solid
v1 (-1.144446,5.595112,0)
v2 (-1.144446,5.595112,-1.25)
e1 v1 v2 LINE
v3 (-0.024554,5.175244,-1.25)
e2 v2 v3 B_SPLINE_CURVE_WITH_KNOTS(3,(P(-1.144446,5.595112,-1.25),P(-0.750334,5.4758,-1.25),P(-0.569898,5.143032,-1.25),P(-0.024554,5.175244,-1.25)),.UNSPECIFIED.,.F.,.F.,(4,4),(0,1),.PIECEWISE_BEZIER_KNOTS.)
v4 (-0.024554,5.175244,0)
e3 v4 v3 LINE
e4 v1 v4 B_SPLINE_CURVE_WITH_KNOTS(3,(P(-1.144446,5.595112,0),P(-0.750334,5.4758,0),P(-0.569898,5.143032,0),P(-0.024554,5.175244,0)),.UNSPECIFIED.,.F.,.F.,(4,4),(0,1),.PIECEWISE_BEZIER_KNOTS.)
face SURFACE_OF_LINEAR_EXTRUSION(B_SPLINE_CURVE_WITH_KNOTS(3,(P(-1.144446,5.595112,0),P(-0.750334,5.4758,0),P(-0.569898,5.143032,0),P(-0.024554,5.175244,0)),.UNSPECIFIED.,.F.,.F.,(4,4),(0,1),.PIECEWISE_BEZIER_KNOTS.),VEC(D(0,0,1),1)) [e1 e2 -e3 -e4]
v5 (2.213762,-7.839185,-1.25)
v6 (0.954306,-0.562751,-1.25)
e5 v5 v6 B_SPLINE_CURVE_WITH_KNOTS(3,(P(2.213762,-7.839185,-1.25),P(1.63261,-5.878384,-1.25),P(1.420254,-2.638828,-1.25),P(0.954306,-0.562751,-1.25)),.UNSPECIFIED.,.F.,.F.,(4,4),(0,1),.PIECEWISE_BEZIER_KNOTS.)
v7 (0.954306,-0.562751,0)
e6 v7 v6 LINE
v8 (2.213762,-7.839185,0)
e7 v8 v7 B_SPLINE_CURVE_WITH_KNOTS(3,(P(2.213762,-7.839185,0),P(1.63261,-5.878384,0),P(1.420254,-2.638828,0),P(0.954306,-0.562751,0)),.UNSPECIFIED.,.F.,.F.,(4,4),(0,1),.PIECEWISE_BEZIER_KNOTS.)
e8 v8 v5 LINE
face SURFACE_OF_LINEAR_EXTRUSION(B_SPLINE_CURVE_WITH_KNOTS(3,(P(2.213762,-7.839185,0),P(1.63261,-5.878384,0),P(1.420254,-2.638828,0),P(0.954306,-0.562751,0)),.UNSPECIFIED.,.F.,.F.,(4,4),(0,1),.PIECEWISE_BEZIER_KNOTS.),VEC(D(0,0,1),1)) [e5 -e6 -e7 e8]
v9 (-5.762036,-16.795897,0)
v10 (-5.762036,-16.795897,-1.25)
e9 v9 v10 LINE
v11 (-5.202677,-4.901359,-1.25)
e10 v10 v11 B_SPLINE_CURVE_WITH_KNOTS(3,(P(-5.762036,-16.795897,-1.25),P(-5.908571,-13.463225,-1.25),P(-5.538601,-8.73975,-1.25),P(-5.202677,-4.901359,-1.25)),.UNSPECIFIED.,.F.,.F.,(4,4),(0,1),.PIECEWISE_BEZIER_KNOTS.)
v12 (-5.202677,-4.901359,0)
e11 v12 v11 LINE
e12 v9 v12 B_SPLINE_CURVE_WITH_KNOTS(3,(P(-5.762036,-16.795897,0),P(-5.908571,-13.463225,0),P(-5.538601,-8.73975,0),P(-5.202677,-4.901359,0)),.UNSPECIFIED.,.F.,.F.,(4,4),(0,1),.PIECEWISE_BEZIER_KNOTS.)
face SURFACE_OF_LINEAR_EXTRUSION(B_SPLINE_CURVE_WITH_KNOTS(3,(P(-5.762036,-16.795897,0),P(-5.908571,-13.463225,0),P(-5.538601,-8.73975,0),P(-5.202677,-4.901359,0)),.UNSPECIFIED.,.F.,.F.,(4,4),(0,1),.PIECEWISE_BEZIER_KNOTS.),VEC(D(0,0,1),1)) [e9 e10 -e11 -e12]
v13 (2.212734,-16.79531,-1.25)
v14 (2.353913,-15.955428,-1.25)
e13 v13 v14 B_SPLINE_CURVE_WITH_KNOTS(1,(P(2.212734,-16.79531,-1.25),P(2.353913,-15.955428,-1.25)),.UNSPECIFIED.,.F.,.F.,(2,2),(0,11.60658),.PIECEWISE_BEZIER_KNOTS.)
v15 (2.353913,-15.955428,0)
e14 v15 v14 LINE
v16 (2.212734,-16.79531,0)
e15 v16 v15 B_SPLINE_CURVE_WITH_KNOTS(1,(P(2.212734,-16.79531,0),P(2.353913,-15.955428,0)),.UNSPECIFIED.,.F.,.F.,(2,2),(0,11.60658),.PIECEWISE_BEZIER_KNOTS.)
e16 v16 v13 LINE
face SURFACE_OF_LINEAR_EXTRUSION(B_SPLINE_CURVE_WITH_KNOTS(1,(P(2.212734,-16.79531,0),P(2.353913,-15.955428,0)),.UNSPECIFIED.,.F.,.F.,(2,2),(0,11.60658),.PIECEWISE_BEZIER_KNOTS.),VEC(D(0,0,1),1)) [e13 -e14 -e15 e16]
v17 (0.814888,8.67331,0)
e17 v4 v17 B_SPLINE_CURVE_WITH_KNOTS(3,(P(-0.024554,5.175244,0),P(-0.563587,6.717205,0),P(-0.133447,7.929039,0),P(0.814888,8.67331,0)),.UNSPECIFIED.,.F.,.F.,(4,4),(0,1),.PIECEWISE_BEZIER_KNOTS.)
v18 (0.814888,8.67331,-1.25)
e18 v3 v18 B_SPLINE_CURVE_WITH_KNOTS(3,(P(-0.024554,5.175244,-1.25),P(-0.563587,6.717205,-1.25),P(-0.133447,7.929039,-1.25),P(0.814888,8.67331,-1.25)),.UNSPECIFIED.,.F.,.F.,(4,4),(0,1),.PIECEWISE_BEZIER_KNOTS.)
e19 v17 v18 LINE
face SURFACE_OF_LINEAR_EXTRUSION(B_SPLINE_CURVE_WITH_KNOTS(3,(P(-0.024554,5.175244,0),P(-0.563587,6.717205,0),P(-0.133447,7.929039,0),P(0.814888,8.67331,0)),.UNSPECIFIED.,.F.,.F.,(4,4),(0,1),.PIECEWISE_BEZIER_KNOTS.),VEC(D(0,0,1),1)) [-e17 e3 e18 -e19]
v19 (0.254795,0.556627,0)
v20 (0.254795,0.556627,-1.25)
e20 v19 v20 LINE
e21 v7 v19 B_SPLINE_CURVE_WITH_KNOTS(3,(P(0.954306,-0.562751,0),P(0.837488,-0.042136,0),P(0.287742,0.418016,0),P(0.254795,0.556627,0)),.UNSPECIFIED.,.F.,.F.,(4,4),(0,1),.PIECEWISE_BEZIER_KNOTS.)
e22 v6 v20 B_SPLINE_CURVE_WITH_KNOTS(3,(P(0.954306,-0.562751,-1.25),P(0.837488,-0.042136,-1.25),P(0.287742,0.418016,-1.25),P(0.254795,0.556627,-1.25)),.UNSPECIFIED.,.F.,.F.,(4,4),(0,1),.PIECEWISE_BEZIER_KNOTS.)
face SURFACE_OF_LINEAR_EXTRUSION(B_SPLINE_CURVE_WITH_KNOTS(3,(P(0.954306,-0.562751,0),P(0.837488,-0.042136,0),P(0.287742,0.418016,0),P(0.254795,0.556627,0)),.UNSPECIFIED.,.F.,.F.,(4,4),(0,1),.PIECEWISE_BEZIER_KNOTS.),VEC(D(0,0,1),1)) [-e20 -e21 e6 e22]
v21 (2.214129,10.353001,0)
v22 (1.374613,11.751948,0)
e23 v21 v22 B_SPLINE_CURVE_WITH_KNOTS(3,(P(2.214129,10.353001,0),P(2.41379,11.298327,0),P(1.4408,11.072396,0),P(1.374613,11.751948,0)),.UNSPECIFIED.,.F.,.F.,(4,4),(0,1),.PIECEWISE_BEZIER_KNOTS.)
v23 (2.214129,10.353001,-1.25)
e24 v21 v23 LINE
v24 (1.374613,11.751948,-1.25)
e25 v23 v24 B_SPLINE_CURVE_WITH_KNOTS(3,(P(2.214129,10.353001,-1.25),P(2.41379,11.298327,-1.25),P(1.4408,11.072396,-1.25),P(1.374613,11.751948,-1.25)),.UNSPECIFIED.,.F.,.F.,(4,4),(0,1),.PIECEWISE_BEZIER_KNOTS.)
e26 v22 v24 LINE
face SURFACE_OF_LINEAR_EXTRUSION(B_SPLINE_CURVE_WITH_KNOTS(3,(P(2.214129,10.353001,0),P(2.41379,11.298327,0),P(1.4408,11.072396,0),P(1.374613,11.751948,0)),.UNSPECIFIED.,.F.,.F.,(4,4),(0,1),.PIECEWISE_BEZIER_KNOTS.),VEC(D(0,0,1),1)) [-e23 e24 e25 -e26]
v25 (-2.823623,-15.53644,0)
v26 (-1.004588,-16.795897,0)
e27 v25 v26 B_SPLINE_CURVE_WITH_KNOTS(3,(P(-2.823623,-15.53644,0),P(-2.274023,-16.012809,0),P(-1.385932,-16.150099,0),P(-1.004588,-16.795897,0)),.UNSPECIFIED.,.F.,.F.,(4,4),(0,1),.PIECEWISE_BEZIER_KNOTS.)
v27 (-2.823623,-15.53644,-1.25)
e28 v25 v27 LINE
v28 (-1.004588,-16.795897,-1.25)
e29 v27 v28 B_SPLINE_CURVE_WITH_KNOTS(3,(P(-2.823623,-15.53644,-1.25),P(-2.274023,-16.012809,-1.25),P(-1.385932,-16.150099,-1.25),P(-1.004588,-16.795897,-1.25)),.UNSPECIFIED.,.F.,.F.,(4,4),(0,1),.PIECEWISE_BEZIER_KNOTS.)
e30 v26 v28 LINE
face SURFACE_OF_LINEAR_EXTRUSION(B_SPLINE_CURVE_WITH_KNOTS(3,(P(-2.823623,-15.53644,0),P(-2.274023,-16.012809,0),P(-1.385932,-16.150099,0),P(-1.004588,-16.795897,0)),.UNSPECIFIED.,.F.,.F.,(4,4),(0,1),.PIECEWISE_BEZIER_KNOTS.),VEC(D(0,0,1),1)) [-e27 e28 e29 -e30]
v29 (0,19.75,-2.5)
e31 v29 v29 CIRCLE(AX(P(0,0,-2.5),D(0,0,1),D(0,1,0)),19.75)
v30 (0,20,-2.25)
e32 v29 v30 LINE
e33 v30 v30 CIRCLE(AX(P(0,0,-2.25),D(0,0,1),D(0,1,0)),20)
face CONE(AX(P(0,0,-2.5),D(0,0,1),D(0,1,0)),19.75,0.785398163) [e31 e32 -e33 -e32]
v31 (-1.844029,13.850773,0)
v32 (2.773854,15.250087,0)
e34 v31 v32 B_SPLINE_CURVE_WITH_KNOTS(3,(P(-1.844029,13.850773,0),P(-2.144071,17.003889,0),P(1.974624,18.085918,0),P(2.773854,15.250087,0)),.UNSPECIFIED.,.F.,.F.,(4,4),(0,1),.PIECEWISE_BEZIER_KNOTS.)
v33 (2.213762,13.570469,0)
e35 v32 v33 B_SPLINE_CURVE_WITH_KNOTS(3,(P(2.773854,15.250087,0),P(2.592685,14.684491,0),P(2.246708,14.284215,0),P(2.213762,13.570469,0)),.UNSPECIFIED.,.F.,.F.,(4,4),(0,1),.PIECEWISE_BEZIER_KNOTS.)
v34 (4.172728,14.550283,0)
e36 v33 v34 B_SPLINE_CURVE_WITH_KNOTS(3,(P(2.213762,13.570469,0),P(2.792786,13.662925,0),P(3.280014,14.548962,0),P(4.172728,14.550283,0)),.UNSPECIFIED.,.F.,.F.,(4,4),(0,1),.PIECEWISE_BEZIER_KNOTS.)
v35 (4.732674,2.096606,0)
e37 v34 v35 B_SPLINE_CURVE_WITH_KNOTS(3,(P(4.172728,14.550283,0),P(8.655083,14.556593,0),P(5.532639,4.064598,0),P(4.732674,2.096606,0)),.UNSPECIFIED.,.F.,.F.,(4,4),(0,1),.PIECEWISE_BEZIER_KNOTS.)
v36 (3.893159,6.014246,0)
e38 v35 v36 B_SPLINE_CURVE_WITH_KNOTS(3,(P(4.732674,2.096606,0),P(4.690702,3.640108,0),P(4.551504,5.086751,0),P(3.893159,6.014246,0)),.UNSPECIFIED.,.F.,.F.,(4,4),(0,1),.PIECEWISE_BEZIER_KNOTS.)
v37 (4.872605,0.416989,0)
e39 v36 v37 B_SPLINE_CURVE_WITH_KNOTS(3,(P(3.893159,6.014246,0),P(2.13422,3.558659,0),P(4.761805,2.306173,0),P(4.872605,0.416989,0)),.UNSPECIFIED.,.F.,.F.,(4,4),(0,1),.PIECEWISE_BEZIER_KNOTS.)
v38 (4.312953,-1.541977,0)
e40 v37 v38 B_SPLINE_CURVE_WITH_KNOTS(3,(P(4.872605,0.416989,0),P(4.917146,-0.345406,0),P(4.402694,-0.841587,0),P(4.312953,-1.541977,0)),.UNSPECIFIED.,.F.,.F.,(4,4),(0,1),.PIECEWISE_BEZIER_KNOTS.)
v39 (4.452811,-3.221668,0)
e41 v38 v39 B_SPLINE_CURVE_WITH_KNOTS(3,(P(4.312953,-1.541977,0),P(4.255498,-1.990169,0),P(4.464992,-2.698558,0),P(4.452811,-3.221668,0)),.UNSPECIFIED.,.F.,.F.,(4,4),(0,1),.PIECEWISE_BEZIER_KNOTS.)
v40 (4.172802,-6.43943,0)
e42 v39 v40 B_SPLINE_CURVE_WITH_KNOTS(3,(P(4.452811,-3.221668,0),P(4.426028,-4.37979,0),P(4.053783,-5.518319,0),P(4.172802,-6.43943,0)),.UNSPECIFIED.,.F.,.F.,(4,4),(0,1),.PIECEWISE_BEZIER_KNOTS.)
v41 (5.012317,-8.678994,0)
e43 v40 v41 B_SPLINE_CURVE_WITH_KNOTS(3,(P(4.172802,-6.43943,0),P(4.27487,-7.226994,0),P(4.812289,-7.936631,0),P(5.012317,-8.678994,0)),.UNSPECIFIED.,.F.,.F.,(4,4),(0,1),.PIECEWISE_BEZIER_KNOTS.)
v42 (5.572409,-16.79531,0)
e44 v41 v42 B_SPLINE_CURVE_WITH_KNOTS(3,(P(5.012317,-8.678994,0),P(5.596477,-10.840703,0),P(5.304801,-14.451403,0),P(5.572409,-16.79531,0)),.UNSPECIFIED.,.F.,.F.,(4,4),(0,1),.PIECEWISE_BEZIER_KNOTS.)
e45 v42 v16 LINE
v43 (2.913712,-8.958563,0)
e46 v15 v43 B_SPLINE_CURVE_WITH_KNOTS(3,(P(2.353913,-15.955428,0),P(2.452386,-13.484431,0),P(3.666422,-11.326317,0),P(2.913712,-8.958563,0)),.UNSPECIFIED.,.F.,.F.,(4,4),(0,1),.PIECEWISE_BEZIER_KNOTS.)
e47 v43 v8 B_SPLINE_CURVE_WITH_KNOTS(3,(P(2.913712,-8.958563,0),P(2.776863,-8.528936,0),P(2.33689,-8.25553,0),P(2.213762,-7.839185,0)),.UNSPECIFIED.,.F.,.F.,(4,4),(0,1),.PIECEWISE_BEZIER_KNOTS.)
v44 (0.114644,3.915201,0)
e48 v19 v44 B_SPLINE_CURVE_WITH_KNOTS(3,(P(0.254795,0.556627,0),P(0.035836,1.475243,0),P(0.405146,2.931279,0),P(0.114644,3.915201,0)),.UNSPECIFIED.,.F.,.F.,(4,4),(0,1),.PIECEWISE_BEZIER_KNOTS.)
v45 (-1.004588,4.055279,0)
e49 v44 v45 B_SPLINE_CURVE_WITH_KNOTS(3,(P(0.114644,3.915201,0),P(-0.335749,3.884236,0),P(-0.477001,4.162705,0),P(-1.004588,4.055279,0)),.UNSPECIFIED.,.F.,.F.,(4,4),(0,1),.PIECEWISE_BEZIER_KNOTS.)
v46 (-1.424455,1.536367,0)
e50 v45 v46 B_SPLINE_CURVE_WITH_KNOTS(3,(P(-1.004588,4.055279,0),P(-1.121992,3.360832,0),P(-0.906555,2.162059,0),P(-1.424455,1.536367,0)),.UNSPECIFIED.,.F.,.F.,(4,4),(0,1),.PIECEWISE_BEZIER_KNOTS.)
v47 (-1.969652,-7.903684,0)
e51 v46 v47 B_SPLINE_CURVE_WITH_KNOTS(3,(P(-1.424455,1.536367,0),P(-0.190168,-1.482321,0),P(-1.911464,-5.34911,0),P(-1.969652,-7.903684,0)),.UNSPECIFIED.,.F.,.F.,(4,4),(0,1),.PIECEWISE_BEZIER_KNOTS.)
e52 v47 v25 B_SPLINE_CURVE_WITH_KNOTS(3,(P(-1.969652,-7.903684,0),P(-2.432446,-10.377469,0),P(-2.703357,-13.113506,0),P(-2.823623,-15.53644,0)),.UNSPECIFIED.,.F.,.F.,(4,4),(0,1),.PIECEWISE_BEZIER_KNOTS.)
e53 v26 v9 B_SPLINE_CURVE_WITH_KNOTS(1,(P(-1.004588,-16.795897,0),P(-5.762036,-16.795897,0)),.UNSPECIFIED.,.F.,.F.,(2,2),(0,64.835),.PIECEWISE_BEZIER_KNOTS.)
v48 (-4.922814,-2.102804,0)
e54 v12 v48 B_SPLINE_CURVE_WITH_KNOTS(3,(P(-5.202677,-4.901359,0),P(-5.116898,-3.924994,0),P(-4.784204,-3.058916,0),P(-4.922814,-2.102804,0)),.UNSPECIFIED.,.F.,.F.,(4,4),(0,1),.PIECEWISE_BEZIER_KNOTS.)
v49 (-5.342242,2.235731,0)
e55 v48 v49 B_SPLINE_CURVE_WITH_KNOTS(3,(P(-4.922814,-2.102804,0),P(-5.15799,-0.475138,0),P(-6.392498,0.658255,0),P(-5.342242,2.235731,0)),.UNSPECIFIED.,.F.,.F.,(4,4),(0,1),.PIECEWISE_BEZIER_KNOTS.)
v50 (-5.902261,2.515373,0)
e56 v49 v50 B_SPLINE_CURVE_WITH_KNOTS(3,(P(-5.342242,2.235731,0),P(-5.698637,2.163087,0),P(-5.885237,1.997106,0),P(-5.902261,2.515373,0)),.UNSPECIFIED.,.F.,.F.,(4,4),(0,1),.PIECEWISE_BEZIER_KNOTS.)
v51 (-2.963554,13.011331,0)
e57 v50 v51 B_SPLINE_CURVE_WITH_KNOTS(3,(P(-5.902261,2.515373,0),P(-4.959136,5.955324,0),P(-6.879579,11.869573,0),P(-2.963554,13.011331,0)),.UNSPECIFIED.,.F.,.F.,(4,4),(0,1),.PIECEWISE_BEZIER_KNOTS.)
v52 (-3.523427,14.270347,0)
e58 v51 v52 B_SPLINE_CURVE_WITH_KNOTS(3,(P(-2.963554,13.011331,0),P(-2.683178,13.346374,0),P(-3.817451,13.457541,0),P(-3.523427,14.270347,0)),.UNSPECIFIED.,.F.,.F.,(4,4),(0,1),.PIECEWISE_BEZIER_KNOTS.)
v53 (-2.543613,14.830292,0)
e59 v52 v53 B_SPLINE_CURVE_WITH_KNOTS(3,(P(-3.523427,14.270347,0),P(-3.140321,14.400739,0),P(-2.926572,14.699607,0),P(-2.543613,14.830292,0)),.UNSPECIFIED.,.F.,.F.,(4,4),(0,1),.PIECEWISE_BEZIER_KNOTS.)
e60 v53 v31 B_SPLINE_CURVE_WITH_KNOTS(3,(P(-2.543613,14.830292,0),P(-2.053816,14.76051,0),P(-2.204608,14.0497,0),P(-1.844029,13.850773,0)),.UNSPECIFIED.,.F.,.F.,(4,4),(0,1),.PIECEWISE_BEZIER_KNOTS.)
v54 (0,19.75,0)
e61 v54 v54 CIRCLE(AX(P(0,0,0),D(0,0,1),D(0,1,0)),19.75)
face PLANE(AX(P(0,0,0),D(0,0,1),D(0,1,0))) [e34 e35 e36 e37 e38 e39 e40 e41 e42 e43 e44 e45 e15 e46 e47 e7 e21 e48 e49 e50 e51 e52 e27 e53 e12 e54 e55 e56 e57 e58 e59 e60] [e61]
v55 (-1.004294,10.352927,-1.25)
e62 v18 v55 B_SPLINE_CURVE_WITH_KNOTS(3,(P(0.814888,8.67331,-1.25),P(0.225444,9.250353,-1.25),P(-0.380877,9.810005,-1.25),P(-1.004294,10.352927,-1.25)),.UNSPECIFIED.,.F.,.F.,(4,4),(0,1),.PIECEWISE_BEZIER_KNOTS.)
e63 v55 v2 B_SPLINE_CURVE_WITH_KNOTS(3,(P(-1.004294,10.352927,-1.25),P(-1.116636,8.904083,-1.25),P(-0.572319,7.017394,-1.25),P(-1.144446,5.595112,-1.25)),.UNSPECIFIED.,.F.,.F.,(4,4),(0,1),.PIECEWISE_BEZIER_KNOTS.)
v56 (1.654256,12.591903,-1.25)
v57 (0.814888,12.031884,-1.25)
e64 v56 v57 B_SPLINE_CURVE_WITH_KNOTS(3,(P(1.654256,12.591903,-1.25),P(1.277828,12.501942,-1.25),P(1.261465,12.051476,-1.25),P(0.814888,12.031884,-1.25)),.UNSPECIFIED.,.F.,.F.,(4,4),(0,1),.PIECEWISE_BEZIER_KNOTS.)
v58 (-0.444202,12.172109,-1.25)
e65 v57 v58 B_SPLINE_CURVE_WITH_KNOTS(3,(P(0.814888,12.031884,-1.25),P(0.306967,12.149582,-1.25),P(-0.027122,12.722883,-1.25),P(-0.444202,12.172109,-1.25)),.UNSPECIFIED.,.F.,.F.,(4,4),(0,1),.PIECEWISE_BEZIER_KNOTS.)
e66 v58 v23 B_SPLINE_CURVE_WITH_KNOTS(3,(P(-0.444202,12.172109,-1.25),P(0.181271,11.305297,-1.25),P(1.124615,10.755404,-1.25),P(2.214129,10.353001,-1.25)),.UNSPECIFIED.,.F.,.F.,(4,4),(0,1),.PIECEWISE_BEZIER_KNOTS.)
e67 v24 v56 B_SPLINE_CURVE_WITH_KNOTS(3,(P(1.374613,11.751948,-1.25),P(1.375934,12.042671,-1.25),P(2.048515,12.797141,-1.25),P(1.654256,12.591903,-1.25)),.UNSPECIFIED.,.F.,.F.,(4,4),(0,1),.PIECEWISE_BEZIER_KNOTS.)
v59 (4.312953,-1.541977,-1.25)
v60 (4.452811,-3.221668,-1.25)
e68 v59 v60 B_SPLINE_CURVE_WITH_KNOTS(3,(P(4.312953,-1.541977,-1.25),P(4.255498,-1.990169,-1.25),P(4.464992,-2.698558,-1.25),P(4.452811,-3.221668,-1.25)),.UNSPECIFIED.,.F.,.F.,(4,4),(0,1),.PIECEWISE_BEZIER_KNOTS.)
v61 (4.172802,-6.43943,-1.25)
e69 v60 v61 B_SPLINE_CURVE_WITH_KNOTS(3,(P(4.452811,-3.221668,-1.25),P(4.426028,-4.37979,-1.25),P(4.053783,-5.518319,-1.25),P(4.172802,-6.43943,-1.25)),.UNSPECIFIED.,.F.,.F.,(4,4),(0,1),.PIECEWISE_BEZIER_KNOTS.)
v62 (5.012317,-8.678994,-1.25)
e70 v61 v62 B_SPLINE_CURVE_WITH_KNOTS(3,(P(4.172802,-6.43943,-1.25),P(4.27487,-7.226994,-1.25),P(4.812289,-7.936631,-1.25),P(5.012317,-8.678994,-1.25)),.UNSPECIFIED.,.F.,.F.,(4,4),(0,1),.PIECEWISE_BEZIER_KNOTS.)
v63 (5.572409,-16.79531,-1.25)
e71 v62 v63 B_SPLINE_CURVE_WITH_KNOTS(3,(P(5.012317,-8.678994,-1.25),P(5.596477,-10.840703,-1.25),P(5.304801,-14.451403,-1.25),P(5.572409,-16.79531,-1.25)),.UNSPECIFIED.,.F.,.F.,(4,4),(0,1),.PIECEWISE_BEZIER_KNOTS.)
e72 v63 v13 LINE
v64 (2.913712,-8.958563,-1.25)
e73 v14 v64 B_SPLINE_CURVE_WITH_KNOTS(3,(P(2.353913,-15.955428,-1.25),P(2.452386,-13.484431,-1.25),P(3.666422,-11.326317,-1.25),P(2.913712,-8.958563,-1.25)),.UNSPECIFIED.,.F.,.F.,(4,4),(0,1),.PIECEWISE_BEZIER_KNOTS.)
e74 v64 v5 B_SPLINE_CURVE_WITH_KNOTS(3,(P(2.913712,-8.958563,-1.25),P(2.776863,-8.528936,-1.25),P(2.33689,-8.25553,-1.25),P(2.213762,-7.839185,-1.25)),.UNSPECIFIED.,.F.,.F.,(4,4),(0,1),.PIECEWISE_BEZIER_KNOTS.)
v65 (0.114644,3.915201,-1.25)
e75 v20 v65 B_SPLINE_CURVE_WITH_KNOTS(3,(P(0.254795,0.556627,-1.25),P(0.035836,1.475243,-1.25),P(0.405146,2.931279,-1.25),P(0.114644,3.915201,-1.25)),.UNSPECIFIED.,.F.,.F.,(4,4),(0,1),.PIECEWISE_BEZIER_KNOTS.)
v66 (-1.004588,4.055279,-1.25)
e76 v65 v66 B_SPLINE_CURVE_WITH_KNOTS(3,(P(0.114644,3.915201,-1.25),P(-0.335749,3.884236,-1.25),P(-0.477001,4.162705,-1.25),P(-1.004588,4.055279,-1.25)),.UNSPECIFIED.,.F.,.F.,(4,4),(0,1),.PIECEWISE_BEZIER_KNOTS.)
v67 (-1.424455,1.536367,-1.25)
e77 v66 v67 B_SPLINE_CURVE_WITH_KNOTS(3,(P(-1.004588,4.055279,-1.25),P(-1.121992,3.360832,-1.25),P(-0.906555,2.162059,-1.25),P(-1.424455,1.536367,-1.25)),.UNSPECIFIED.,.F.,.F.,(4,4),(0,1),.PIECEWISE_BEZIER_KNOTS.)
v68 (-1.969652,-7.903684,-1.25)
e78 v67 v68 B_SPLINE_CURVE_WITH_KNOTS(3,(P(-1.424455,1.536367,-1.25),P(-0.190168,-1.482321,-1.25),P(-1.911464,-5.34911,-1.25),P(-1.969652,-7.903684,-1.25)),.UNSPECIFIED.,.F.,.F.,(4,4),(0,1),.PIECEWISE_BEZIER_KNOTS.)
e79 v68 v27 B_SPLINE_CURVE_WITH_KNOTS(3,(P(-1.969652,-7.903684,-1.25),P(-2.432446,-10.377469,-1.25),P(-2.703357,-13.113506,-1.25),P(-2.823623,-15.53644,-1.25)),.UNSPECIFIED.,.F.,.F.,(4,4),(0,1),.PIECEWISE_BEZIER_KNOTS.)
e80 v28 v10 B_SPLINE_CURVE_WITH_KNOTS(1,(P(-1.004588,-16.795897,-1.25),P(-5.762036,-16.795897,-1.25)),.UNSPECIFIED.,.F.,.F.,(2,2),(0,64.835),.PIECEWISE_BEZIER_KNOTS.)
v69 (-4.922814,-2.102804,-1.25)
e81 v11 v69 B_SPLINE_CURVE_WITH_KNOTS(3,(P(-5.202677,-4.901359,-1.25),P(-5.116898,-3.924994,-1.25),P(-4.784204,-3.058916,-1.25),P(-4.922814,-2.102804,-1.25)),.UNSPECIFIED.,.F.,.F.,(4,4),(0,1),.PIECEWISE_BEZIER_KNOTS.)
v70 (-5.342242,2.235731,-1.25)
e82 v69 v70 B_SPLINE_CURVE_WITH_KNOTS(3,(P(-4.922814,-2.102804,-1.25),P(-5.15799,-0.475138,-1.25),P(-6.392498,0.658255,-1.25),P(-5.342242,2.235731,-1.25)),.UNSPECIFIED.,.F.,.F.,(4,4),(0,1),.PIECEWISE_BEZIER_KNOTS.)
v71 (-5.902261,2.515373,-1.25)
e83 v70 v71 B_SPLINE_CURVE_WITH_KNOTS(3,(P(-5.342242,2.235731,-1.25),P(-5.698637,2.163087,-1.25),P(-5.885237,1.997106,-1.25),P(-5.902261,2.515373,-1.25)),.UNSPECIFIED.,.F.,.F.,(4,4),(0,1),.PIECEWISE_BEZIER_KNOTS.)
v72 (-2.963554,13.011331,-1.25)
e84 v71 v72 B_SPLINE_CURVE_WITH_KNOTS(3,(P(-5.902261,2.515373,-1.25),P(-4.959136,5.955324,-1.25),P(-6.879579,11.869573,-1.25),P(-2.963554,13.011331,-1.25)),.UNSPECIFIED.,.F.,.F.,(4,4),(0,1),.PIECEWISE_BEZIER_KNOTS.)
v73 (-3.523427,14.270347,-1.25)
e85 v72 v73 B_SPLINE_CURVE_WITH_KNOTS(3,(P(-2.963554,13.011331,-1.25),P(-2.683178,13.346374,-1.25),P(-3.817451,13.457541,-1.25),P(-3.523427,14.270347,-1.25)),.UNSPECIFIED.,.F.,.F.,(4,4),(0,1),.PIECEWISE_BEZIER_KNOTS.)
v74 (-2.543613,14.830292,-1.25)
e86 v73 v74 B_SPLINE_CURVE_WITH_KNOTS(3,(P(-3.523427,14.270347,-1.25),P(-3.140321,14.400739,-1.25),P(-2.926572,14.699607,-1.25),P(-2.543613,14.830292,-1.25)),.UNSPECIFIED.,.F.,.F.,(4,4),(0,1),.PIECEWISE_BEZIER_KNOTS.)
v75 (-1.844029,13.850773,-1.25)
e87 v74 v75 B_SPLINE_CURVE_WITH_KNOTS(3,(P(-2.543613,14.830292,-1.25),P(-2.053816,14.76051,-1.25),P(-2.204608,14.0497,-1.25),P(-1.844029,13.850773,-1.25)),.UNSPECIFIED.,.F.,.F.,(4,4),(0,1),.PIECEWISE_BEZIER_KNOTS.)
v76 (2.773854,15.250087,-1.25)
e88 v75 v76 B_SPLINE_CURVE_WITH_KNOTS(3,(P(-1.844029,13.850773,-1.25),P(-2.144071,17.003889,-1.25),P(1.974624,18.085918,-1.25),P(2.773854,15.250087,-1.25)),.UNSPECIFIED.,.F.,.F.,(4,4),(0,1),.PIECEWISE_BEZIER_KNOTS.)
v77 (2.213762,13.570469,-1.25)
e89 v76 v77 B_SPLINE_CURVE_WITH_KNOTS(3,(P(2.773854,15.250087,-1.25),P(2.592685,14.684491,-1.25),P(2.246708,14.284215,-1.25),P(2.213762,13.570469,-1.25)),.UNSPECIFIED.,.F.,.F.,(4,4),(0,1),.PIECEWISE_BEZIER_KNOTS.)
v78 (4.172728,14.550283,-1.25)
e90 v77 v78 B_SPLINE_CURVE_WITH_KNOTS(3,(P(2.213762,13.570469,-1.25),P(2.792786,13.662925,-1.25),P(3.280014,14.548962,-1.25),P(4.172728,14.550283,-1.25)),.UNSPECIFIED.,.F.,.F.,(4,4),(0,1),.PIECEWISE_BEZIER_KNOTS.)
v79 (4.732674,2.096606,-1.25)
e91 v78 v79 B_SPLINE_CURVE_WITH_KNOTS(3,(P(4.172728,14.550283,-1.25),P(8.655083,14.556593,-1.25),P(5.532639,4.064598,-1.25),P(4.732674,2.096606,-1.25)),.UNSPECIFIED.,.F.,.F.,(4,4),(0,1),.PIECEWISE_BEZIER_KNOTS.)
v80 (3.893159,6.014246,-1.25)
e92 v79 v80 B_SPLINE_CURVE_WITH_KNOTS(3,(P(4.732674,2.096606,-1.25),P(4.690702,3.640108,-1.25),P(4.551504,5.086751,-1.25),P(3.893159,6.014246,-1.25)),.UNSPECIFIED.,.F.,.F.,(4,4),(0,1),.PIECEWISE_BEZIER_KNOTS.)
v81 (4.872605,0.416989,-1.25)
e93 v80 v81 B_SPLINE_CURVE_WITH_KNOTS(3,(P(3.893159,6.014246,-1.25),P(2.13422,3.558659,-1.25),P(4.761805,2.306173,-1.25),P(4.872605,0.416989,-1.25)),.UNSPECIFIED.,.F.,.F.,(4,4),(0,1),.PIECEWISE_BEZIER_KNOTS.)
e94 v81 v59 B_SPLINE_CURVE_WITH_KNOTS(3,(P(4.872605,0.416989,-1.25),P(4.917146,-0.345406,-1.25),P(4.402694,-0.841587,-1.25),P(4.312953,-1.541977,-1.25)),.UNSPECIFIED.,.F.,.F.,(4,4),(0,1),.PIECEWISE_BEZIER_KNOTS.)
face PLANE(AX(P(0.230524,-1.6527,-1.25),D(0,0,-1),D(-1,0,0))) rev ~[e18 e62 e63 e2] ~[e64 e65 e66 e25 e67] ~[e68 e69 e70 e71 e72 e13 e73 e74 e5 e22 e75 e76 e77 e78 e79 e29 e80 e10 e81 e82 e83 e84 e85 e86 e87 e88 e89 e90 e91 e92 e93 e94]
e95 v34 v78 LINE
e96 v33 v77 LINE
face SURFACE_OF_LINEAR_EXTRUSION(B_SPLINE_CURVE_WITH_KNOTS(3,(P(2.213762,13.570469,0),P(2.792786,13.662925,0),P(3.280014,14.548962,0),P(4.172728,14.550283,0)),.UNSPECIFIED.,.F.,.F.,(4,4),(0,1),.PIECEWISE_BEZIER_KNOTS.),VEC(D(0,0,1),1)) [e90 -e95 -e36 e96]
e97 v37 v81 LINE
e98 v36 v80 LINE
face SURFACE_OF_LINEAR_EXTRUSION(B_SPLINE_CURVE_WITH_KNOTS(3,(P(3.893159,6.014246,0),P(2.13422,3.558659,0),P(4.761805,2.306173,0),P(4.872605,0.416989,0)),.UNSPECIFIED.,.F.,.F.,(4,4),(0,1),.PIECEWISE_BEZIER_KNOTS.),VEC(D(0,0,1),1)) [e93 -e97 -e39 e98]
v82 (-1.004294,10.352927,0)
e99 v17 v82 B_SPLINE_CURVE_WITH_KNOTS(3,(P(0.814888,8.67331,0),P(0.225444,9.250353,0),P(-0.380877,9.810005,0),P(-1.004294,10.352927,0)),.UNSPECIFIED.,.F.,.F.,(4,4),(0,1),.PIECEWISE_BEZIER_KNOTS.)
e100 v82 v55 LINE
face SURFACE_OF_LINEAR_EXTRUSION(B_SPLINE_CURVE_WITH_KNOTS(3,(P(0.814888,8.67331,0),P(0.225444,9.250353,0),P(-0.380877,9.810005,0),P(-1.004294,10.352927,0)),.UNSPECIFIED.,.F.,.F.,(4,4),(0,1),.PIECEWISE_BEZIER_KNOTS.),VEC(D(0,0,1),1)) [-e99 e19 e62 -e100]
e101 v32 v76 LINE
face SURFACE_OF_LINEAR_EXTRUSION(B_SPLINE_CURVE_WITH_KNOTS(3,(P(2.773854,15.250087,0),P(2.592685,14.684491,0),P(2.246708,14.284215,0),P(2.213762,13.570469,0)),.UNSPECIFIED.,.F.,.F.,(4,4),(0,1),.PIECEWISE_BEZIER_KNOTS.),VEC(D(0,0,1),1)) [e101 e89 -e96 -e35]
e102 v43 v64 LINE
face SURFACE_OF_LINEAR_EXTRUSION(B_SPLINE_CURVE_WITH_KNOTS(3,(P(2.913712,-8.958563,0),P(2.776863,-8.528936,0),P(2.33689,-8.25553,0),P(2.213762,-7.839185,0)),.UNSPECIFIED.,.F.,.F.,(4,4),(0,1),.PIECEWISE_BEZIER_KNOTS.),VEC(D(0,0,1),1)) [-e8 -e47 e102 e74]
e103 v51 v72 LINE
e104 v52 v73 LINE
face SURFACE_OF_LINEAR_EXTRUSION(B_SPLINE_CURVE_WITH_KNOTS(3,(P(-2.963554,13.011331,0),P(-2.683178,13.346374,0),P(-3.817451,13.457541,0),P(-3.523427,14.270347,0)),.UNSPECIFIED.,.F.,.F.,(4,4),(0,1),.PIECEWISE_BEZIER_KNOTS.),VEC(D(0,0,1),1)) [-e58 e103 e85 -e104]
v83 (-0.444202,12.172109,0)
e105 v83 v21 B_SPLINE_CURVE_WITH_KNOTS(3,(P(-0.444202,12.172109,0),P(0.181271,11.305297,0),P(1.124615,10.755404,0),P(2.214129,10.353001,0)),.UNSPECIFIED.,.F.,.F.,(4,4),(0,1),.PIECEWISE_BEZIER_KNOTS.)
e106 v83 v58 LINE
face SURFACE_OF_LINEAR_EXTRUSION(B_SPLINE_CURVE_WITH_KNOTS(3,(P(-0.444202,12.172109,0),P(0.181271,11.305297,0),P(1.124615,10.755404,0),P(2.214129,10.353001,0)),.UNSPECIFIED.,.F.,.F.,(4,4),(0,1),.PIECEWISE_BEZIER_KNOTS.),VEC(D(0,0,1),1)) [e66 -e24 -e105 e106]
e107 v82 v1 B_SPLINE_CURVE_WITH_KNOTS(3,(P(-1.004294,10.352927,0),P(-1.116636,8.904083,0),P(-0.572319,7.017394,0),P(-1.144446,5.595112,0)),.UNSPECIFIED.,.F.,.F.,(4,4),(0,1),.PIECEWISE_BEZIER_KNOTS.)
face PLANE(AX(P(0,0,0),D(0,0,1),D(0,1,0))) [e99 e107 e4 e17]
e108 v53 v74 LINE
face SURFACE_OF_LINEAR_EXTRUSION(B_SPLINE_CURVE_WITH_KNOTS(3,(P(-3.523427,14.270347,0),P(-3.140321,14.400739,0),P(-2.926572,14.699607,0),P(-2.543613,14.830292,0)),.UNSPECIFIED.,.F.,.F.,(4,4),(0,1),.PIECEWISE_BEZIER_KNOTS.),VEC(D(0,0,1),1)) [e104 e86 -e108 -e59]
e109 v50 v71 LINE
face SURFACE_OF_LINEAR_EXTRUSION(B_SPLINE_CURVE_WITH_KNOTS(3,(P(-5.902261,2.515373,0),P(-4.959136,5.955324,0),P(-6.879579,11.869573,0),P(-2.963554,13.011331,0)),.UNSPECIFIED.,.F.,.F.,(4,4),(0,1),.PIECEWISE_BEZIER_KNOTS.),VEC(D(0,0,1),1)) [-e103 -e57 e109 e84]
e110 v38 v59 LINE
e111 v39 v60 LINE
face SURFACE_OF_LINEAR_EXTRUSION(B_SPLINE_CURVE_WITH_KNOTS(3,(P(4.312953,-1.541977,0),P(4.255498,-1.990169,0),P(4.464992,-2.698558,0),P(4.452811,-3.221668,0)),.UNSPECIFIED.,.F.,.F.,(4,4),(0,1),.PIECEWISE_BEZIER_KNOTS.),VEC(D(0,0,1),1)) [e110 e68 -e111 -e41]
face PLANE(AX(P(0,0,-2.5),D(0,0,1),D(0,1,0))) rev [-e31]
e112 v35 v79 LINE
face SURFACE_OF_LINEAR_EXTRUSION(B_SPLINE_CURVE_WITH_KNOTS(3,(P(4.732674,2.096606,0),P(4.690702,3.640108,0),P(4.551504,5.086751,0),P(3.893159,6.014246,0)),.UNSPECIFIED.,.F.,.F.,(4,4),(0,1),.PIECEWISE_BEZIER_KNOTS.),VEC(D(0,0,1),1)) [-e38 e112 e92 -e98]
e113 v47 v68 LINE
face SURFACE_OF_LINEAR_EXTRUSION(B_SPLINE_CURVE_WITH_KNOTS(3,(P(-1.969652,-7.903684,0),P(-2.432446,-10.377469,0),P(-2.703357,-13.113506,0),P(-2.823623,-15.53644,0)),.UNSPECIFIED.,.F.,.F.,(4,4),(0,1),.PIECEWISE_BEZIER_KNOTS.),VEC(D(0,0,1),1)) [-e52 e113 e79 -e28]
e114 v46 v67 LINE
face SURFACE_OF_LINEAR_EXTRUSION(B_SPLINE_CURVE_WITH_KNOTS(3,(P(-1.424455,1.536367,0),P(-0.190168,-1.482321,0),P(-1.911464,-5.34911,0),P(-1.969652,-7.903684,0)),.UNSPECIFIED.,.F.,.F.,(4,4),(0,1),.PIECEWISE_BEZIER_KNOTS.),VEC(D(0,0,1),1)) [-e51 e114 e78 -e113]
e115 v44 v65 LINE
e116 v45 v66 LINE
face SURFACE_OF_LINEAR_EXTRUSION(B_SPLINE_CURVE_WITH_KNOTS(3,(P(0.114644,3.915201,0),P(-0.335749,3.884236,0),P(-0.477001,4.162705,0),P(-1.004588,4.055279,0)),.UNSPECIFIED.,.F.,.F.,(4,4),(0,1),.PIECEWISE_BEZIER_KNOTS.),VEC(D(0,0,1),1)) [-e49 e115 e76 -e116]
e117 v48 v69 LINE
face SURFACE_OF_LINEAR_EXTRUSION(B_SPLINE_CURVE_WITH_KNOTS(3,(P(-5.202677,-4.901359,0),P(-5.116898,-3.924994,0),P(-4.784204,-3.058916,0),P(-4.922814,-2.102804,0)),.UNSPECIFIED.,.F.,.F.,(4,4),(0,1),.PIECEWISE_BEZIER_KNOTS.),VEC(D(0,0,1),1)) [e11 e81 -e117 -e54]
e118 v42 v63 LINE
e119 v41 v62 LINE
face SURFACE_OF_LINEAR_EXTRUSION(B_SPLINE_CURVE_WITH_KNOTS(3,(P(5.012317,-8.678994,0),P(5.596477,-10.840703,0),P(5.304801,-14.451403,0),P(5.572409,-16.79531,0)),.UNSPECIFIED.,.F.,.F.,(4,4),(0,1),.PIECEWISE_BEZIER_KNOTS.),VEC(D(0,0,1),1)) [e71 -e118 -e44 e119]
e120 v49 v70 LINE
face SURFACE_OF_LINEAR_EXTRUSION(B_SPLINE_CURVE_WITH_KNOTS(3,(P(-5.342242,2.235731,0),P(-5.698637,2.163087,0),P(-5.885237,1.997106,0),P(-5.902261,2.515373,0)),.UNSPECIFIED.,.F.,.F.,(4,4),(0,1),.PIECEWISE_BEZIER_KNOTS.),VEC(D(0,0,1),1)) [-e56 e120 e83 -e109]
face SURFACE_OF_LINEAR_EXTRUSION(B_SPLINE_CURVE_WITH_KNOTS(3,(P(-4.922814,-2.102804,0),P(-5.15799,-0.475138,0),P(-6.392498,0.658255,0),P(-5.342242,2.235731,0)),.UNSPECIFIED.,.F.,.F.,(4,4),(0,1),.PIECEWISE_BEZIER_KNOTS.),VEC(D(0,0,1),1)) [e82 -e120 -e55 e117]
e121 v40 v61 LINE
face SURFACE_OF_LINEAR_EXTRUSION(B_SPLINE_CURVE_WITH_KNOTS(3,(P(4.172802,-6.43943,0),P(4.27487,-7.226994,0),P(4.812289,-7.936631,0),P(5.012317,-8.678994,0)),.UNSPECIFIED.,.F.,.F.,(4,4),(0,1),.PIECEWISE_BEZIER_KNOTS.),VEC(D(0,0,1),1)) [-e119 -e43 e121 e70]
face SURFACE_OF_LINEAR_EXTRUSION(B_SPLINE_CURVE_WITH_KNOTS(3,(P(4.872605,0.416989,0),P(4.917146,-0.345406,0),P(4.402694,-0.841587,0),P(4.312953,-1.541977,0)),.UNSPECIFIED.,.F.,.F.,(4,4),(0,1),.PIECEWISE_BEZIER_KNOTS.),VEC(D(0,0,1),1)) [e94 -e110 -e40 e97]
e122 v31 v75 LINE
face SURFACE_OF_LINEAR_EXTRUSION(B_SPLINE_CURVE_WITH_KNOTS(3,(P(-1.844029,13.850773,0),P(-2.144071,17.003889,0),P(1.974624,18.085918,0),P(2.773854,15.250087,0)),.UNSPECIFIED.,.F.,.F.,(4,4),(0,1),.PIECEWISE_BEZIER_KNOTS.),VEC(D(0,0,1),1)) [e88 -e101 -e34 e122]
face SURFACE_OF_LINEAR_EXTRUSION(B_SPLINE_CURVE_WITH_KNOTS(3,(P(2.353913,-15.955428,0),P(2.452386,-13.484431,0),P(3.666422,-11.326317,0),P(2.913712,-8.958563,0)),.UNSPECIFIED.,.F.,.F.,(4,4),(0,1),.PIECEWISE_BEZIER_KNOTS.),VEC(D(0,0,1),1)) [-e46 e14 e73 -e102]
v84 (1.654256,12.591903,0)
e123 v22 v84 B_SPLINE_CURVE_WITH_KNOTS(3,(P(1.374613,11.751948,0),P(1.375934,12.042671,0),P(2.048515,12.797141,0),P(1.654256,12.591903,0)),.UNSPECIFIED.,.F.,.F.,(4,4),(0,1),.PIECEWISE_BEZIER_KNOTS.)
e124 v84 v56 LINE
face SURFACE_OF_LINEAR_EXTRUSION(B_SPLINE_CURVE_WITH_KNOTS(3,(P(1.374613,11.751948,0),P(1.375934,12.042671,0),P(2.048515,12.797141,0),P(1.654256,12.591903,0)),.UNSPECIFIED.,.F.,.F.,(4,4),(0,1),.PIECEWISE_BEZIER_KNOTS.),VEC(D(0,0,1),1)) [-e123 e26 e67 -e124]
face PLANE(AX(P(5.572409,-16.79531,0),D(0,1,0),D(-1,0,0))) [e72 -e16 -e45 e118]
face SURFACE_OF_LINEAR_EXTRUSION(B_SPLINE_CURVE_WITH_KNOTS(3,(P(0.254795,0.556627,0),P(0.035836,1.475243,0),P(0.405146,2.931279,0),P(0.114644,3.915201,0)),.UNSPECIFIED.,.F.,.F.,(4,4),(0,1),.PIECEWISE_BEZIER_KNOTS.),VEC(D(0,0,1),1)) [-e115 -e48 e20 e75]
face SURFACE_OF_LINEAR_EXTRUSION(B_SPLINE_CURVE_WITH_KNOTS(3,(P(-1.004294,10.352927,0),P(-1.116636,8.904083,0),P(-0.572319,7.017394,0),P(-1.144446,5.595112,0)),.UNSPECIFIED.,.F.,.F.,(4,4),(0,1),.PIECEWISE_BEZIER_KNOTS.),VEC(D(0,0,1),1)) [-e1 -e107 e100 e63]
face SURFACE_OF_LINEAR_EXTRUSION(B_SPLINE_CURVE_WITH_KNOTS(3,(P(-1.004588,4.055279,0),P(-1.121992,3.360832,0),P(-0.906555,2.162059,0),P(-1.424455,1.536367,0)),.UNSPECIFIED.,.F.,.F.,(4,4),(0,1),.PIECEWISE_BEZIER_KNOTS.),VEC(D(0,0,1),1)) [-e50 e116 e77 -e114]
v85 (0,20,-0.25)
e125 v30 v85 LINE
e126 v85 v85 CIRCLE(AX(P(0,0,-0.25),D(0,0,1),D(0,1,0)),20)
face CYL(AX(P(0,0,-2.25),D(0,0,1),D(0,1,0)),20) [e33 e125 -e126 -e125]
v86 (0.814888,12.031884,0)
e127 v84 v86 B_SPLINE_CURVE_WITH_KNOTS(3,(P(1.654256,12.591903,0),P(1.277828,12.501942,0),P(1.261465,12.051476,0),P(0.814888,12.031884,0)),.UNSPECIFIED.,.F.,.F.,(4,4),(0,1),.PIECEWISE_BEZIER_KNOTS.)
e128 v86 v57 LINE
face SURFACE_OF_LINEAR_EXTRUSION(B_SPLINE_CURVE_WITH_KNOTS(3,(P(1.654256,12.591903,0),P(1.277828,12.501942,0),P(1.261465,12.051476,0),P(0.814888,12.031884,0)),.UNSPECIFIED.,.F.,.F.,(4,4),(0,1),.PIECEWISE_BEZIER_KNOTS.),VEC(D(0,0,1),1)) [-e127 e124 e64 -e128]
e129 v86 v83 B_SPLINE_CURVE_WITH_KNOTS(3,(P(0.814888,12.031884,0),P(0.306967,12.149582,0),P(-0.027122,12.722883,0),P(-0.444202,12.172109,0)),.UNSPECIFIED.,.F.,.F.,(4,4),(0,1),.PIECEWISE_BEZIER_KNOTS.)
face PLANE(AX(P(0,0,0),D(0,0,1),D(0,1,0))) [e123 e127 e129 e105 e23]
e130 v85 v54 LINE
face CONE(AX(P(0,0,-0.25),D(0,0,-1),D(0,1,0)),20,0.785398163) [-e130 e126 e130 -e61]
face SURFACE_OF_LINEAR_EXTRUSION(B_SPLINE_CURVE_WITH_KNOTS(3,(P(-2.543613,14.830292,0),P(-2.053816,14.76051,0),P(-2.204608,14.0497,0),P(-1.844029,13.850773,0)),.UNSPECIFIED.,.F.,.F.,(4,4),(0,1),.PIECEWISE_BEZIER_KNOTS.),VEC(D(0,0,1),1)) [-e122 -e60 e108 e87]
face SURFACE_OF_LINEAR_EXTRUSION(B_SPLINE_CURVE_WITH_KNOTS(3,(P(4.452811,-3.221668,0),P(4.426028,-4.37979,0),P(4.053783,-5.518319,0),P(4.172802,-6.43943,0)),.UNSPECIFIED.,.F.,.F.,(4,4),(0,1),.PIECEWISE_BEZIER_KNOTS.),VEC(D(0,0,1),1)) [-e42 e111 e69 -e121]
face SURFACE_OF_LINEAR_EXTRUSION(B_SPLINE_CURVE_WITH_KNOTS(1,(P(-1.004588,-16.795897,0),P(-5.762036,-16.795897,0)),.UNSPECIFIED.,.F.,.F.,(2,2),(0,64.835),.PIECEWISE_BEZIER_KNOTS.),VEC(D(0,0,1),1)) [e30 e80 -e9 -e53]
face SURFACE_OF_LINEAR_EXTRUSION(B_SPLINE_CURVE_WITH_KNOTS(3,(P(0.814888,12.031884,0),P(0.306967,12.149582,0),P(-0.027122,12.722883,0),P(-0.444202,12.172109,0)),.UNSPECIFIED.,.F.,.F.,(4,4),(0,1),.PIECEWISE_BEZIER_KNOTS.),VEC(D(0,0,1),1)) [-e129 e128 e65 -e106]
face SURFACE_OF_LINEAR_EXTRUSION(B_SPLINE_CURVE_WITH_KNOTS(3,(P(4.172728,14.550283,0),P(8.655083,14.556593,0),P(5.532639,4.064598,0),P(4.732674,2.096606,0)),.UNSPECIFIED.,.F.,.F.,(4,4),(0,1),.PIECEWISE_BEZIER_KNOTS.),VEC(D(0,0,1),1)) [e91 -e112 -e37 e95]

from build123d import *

# Parameters (mm, degrees)
POCKET_DEPTH = 1.25


with BuildPart() as part:
    # Sketch (on DatumPlane) → Revolution (revolve)
    with BuildSketch(Plane.YZ):
        Polygon((0, 0), (0, -2.5), (19.75, -2.5), (20, -2.25), (20, -0.25), (19.75, 0), align=None)
    revolve(axis=Axis((0, 0, 0), (0, 0, 1)))

    # Sketch005 (on DatumPlane) → Pocket (cut)
    with BuildSketch(Plane.XY):
        with BuildLine():
            add(Edge.make_bspline(
                [(2.212734, -16.79531), (2.353913, -15.955428)],
                knots=[0, 0, 11.60658, 11.60658], degree=1))
            add(Edge.make_bspline(
                [(2.353913, -15.955428), (2.452386, -13.484431), (3.666422, -11.326317), (2.913712, -8.958563)],
                knots=[0, 0, 0, 0, 1, 1, 1, 1], degree=3))
            add(Edge.make_bspline(
                [(2.913712, -8.958563), (2.776863, -8.528936), (2.33689, -8.25553), (2.213762, -7.839185)],
                knots=[0, 0, 0, 0, 1, 1, 1, 1], degree=3))
            add(Edge.make_bspline(
                [(2.213762, -7.839185), (1.63261, -5.878384), (1.420254, -2.638828), (0.954306, -0.562751)],
                knots=[0, 0, 0, 0, 1, 1, 1, 1], degree=3))
            add(Edge.make_bspline(
                [(0.954306, -0.562751), (0.837488, -0.042136), (0.287742, 0.418016), (0.254795, 0.556627)],
                knots=[0, 0, 0, 0, 1, 1, 1, 1], degree=3))
            add(Edge.make_bspline(
                [(0.254795, 0.556627), (0.035836, 1.475243), (0.405146, 2.931279), (0.114644, 3.915201)],
                knots=[0, 0, 0, 0, 1, 1, 1, 1], degree=3))
            add(Edge.make_bspline(
                [(0.114644, 3.915201), (-0.335749, 3.884236), (-0.477001, 4.162705), (-1.004588, 4.055279)],
                knots=[0, 0, 0, 0, 1, 1, 1, 1], degree=3))
            add(Edge.make_bspline(
                [(-1.004588, 4.055279), (-1.121992, 3.360832), (-0.906555, 2.162059), (-1.424455, 1.536367)],
                knots=[0, 0, 0, 0, 1, 1, 1, 1], degree=3))
            add(Edge.make_bspline(
                [(-1.424455, 1.536367), (-0.190168, -1.482321), (-1.911464, -5.34911), (-1.969652, -7.903684)],
                knots=[0, 0, 0, 0, 1, 1, 1, 1], degree=3))
            add(Edge.make_bspline(
                [(-1.969652, -7.903684), (-2.432446, -10.377469), (-2.703357, -13.113506), (-2.823623, -15.53644)],
                knots=[0, 0, 0, 0, 1, 1, 1, 1], degree=3))
            add(Edge.make_bspline(
                [(-2.823623, -15.53644), (-2.274023, -16.012809), (-1.385932, -16.150099), (-1.004588, -16.795897)],
                knots=[0, 0, 0, 0, 1, 1, 1, 1], degree=3))
            add(Edge.make_bspline(
                [(-1.004588, -16.795897), (-5.762036, -16.795897)],
                knots=[0, 0, 64.835, 64.835], degree=1))
            add(Edge.make_bspline(
                [(-5.762036, -16.795897), (-5.908571, -13.463225), (-5.538601, -8.73975), (-5.202677, -4.901359)],
                knots=[0, 0, 0, 0, 1, 1, 1, 1], degree=3))
            add(Edge.make_bspline(
                [(-5.202677, -4.901359), (-5.116898, -3.924994), (-4.784204, -3.058916), (-4.922814, -2.102804)],
                knots=[0, 0, 0, 0, 1, 1, 1, 1], degree=3))
            add(Edge.make_bspline(
                [(-4.922814, -2.102804), (-5.15799, -0.475138), (-6.392498, 0.658255), (-5.342242, 2.235731)],
                knots=[0, 0, 0, 0, 1, 1, 1, 1], degree=3))
            add(Edge.make_bspline(
                [(-5.342242, 2.235731), (-5.698637, 2.163087), (-5.885237, 1.997106), (-5.902261, 2.515373)],
                knots=[0, 0, 0, 0, 1, 1, 1, 1], degree=3))
            add(Edge.make_bspline(
                [(-5.902261, 2.515373), (-4.959136, 5.955324), (-6.879579, 11.869573), (-2.963554, 13.011331)],
                knots=[0, 0, 0, 0, 1, 1, 1, 1], degree=3))
            add(Edge.make_bspline(
                [(-2.963554, 13.011331), (-2.683178, 13.346374), (-3.817451, 13.457541), (-3.523427, 14.270347)],
                knots=[0, 0, 0, 0, 1, 1, 1, 1], degree=3))
            add(Edge.make_bspline(
                [(-3.523427, 14.270347), (-3.140321, 14.400739), (-2.926572, 14.699607), (-2.543613, 14.830292)],
                knots=[0, 0, 0, 0, 1, 1, 1, 1], degree=3))
            add(Edge.make_bspline(
                [(-2.543613, 14.830292), (-2.053816, 14.76051), (-2.204608, 14.0497), (-1.844029, 13.850773)],
                knots=[0, 0, 0, 0, 1, 1, 1, 1], degree=3))
            add(Edge.make_bspline(
                [(-1.844029, 13.850773), (-2.144071, 17.003889), (1.974624, 18.085918), (2.773854, 15.250087)],
                knots=[0, 0, 0, 0, 1, 1, 1, 1], degree=3))
            add(Edge.make_bspline(
                [(2.773854, 15.250087), (2.592685, 14.684491), (2.246708, 14.284215), (2.213762, 13.570469)],
                knots=[0, 0, 0, 0, 1, 1, 1, 1], degree=3))
            add(Edge.make_bspline(
                [(2.213762, 13.570469), (2.792786, 13.662925), (3.280014, 14.548962), (4.172728, 14.550283)],
                knots=[0, 0, 0, 0, 1, 1, 1, 1], degree=3))
            add(Edge.make_bspline(
                [(4.172728, 14.550283), (8.655083, 14.556593), (5.532639, 4.064598), (4.732674, 2.096606)],
                knots=[0, 0, 0, 0, 1, 1, 1, 1], degree=3))
            add(Edge.make_bspline(
                [(4.732674, 2.096606), (4.690702, 3.640108), (4.551504, 5.086751), (3.893159, 6.014246)],
                knots=[0, 0, 0, 0, 1, 1, 1, 1], degree=3))
            add(Edge.make_bspline(
                [(3.893159, 6.014246), (2.13422, 3.558659), (4.761805, 2.306173), (4.872605, 0.416989)],
                knots=[0, 0, 0, 0, 1, 1, 1, 1], degree=3))
            add(Edge.make_bspline(
                [(4.872605, 0.416989), (4.917146, -0.345406), (4.402694, -0.841587), (4.312953, -1.541977)],
                knots=[0, 0, 0, 0, 1, 1, 1, 1], degree=3))
            add(Edge.make_bspline(
                [(4.312953, -1.541977), (4.255498, -1.990169), (4.464992, -2.698558), (4.452811, -3.221668)],
                knots=[0, 0, 0, 0, 1, 1, 1, 1], degree=3))
            add(Edge.make_bspline(
                [(4.452811, -3.221668), (4.426028, -4.37979), (4.053783, -5.518319), (4.172802, -6.43943)],
                knots=[0, 0, 0, 0, 1, 1, 1, 1], degree=3))
            add(Edge.make_bspline(
                [(4.172802, -6.43943), (4.27487, -7.226994), (4.812289, -7.936631), (5.012317, -8.678994)],
                knots=[0, 0, 0, 0, 1, 1, 1, 1], degree=3))
            add(Edge.make_bspline(
                [(5.012317, -8.678994), (5.596477, -10.840703), (5.304801, -14.451403), (5.572409, -16.79531)],
                knots=[0, 0, 0, 0, 1, 1, 1, 1], degree=3))
            add(Edge.make_bspline(
                [(5.572409, -16.79531), (3.386852, -16.79531)],
                knots=[0, 0, 29.785, 29.785], degree=1))
            add(Edge.make_bspline(
                [(3.386852, -16.79531), (2.213542, -16.79531)],
                knots=[0, 0, 15.99, 15.99], degree=1))
            add(Edge.make_bspline(
                [(2.213542, -16.79531), (2.212734, -16.79531)],
                knots=[0, 0, 0.011, 0.011], degree=1))
        make_face()
        with BuildLine():
            add(Edge.make_bspline(
                [(0.814888, 12.031884), (0.306967, 12.149582), (-0.027122, 12.722883), (-0.444202, 12.172109)],
                knots=[0, 0, 0, 0, 1, 1, 1, 1], degree=3))
            add(Edge.make_bspline(
                [(-0.444202, 12.172109), (0.181271, 11.305297), (1.124615, 10.755404), (2.214129, 10.353001)],
                knots=[0, 0, 0, 0, 1, 1, 1, 1], degree=3))
            add(Edge.make_bspline(
                [(2.214129, 10.353001), (2.41379, 11.298327), (1.4408, 11.072396), (1.374613, 11.751948)],
                knots=[0, 0, 0, 0, 1, 1, 1, 1], degree=3))
            add(Edge.make_bspline(
                [(1.374613, 11.751948), (1.375934, 12.042671), (2.048515, 12.797141), (1.654256, 12.591903)],
                knots=[0, 0, 0, 0, 1, 1, 1, 1], degree=3))
            add(Edge.make_bspline(
                [(1.654256, 12.591903), (1.277828, 12.501942), (1.261465, 12.051476), (0.814888, 12.031884)],
                knots=[0, 0, 0, 0, 1, 1, 1, 1], degree=3))
        make_face(mode=Mode.SUBTRACT)
        with BuildLine():
            add(Edge.make_bspline(
                [(-1.144446, 5.595112), (-0.750334, 5.4758), (-0.569898, 5.143032), (-0.024554, 5.175244)],
                knots=[0, 0, 0, 0, 1, 1, 1, 1], degree=3))
            add(Edge.make_bspline(
                [(-0.024554, 5.175244), (-0.563587, 6.717205), (-0.133447, 7.929039), (0.814888, 8.67331)],
                knots=[0, 0, 0, 0, 1, 1, 1, 1], degree=3))
            add(Edge.make_bspline(
                [(0.814888, 8.67331), (0.225444, 9.250353), (-0.380877, 9.810005), (-1.004294, 10.352927)],
                knots=[0, 0, 0, 0, 1, 1, 1, 1], degree=3))
            add(Edge.make_bspline(
                [(-1.004294, 10.352927), (-1.116636, 8.904083), (-0.572319, 7.017394), (-1.144446, 5.595112)],
                knots=[0, 0, 0, 0, 1, 1, 1, 1], degree=3))
        make_face(mode=Mode.SUBTRACT)
    extrude(amount=-POCKET_DEPTH, mode=Mode.SUBTRACT)


solid = part.part
